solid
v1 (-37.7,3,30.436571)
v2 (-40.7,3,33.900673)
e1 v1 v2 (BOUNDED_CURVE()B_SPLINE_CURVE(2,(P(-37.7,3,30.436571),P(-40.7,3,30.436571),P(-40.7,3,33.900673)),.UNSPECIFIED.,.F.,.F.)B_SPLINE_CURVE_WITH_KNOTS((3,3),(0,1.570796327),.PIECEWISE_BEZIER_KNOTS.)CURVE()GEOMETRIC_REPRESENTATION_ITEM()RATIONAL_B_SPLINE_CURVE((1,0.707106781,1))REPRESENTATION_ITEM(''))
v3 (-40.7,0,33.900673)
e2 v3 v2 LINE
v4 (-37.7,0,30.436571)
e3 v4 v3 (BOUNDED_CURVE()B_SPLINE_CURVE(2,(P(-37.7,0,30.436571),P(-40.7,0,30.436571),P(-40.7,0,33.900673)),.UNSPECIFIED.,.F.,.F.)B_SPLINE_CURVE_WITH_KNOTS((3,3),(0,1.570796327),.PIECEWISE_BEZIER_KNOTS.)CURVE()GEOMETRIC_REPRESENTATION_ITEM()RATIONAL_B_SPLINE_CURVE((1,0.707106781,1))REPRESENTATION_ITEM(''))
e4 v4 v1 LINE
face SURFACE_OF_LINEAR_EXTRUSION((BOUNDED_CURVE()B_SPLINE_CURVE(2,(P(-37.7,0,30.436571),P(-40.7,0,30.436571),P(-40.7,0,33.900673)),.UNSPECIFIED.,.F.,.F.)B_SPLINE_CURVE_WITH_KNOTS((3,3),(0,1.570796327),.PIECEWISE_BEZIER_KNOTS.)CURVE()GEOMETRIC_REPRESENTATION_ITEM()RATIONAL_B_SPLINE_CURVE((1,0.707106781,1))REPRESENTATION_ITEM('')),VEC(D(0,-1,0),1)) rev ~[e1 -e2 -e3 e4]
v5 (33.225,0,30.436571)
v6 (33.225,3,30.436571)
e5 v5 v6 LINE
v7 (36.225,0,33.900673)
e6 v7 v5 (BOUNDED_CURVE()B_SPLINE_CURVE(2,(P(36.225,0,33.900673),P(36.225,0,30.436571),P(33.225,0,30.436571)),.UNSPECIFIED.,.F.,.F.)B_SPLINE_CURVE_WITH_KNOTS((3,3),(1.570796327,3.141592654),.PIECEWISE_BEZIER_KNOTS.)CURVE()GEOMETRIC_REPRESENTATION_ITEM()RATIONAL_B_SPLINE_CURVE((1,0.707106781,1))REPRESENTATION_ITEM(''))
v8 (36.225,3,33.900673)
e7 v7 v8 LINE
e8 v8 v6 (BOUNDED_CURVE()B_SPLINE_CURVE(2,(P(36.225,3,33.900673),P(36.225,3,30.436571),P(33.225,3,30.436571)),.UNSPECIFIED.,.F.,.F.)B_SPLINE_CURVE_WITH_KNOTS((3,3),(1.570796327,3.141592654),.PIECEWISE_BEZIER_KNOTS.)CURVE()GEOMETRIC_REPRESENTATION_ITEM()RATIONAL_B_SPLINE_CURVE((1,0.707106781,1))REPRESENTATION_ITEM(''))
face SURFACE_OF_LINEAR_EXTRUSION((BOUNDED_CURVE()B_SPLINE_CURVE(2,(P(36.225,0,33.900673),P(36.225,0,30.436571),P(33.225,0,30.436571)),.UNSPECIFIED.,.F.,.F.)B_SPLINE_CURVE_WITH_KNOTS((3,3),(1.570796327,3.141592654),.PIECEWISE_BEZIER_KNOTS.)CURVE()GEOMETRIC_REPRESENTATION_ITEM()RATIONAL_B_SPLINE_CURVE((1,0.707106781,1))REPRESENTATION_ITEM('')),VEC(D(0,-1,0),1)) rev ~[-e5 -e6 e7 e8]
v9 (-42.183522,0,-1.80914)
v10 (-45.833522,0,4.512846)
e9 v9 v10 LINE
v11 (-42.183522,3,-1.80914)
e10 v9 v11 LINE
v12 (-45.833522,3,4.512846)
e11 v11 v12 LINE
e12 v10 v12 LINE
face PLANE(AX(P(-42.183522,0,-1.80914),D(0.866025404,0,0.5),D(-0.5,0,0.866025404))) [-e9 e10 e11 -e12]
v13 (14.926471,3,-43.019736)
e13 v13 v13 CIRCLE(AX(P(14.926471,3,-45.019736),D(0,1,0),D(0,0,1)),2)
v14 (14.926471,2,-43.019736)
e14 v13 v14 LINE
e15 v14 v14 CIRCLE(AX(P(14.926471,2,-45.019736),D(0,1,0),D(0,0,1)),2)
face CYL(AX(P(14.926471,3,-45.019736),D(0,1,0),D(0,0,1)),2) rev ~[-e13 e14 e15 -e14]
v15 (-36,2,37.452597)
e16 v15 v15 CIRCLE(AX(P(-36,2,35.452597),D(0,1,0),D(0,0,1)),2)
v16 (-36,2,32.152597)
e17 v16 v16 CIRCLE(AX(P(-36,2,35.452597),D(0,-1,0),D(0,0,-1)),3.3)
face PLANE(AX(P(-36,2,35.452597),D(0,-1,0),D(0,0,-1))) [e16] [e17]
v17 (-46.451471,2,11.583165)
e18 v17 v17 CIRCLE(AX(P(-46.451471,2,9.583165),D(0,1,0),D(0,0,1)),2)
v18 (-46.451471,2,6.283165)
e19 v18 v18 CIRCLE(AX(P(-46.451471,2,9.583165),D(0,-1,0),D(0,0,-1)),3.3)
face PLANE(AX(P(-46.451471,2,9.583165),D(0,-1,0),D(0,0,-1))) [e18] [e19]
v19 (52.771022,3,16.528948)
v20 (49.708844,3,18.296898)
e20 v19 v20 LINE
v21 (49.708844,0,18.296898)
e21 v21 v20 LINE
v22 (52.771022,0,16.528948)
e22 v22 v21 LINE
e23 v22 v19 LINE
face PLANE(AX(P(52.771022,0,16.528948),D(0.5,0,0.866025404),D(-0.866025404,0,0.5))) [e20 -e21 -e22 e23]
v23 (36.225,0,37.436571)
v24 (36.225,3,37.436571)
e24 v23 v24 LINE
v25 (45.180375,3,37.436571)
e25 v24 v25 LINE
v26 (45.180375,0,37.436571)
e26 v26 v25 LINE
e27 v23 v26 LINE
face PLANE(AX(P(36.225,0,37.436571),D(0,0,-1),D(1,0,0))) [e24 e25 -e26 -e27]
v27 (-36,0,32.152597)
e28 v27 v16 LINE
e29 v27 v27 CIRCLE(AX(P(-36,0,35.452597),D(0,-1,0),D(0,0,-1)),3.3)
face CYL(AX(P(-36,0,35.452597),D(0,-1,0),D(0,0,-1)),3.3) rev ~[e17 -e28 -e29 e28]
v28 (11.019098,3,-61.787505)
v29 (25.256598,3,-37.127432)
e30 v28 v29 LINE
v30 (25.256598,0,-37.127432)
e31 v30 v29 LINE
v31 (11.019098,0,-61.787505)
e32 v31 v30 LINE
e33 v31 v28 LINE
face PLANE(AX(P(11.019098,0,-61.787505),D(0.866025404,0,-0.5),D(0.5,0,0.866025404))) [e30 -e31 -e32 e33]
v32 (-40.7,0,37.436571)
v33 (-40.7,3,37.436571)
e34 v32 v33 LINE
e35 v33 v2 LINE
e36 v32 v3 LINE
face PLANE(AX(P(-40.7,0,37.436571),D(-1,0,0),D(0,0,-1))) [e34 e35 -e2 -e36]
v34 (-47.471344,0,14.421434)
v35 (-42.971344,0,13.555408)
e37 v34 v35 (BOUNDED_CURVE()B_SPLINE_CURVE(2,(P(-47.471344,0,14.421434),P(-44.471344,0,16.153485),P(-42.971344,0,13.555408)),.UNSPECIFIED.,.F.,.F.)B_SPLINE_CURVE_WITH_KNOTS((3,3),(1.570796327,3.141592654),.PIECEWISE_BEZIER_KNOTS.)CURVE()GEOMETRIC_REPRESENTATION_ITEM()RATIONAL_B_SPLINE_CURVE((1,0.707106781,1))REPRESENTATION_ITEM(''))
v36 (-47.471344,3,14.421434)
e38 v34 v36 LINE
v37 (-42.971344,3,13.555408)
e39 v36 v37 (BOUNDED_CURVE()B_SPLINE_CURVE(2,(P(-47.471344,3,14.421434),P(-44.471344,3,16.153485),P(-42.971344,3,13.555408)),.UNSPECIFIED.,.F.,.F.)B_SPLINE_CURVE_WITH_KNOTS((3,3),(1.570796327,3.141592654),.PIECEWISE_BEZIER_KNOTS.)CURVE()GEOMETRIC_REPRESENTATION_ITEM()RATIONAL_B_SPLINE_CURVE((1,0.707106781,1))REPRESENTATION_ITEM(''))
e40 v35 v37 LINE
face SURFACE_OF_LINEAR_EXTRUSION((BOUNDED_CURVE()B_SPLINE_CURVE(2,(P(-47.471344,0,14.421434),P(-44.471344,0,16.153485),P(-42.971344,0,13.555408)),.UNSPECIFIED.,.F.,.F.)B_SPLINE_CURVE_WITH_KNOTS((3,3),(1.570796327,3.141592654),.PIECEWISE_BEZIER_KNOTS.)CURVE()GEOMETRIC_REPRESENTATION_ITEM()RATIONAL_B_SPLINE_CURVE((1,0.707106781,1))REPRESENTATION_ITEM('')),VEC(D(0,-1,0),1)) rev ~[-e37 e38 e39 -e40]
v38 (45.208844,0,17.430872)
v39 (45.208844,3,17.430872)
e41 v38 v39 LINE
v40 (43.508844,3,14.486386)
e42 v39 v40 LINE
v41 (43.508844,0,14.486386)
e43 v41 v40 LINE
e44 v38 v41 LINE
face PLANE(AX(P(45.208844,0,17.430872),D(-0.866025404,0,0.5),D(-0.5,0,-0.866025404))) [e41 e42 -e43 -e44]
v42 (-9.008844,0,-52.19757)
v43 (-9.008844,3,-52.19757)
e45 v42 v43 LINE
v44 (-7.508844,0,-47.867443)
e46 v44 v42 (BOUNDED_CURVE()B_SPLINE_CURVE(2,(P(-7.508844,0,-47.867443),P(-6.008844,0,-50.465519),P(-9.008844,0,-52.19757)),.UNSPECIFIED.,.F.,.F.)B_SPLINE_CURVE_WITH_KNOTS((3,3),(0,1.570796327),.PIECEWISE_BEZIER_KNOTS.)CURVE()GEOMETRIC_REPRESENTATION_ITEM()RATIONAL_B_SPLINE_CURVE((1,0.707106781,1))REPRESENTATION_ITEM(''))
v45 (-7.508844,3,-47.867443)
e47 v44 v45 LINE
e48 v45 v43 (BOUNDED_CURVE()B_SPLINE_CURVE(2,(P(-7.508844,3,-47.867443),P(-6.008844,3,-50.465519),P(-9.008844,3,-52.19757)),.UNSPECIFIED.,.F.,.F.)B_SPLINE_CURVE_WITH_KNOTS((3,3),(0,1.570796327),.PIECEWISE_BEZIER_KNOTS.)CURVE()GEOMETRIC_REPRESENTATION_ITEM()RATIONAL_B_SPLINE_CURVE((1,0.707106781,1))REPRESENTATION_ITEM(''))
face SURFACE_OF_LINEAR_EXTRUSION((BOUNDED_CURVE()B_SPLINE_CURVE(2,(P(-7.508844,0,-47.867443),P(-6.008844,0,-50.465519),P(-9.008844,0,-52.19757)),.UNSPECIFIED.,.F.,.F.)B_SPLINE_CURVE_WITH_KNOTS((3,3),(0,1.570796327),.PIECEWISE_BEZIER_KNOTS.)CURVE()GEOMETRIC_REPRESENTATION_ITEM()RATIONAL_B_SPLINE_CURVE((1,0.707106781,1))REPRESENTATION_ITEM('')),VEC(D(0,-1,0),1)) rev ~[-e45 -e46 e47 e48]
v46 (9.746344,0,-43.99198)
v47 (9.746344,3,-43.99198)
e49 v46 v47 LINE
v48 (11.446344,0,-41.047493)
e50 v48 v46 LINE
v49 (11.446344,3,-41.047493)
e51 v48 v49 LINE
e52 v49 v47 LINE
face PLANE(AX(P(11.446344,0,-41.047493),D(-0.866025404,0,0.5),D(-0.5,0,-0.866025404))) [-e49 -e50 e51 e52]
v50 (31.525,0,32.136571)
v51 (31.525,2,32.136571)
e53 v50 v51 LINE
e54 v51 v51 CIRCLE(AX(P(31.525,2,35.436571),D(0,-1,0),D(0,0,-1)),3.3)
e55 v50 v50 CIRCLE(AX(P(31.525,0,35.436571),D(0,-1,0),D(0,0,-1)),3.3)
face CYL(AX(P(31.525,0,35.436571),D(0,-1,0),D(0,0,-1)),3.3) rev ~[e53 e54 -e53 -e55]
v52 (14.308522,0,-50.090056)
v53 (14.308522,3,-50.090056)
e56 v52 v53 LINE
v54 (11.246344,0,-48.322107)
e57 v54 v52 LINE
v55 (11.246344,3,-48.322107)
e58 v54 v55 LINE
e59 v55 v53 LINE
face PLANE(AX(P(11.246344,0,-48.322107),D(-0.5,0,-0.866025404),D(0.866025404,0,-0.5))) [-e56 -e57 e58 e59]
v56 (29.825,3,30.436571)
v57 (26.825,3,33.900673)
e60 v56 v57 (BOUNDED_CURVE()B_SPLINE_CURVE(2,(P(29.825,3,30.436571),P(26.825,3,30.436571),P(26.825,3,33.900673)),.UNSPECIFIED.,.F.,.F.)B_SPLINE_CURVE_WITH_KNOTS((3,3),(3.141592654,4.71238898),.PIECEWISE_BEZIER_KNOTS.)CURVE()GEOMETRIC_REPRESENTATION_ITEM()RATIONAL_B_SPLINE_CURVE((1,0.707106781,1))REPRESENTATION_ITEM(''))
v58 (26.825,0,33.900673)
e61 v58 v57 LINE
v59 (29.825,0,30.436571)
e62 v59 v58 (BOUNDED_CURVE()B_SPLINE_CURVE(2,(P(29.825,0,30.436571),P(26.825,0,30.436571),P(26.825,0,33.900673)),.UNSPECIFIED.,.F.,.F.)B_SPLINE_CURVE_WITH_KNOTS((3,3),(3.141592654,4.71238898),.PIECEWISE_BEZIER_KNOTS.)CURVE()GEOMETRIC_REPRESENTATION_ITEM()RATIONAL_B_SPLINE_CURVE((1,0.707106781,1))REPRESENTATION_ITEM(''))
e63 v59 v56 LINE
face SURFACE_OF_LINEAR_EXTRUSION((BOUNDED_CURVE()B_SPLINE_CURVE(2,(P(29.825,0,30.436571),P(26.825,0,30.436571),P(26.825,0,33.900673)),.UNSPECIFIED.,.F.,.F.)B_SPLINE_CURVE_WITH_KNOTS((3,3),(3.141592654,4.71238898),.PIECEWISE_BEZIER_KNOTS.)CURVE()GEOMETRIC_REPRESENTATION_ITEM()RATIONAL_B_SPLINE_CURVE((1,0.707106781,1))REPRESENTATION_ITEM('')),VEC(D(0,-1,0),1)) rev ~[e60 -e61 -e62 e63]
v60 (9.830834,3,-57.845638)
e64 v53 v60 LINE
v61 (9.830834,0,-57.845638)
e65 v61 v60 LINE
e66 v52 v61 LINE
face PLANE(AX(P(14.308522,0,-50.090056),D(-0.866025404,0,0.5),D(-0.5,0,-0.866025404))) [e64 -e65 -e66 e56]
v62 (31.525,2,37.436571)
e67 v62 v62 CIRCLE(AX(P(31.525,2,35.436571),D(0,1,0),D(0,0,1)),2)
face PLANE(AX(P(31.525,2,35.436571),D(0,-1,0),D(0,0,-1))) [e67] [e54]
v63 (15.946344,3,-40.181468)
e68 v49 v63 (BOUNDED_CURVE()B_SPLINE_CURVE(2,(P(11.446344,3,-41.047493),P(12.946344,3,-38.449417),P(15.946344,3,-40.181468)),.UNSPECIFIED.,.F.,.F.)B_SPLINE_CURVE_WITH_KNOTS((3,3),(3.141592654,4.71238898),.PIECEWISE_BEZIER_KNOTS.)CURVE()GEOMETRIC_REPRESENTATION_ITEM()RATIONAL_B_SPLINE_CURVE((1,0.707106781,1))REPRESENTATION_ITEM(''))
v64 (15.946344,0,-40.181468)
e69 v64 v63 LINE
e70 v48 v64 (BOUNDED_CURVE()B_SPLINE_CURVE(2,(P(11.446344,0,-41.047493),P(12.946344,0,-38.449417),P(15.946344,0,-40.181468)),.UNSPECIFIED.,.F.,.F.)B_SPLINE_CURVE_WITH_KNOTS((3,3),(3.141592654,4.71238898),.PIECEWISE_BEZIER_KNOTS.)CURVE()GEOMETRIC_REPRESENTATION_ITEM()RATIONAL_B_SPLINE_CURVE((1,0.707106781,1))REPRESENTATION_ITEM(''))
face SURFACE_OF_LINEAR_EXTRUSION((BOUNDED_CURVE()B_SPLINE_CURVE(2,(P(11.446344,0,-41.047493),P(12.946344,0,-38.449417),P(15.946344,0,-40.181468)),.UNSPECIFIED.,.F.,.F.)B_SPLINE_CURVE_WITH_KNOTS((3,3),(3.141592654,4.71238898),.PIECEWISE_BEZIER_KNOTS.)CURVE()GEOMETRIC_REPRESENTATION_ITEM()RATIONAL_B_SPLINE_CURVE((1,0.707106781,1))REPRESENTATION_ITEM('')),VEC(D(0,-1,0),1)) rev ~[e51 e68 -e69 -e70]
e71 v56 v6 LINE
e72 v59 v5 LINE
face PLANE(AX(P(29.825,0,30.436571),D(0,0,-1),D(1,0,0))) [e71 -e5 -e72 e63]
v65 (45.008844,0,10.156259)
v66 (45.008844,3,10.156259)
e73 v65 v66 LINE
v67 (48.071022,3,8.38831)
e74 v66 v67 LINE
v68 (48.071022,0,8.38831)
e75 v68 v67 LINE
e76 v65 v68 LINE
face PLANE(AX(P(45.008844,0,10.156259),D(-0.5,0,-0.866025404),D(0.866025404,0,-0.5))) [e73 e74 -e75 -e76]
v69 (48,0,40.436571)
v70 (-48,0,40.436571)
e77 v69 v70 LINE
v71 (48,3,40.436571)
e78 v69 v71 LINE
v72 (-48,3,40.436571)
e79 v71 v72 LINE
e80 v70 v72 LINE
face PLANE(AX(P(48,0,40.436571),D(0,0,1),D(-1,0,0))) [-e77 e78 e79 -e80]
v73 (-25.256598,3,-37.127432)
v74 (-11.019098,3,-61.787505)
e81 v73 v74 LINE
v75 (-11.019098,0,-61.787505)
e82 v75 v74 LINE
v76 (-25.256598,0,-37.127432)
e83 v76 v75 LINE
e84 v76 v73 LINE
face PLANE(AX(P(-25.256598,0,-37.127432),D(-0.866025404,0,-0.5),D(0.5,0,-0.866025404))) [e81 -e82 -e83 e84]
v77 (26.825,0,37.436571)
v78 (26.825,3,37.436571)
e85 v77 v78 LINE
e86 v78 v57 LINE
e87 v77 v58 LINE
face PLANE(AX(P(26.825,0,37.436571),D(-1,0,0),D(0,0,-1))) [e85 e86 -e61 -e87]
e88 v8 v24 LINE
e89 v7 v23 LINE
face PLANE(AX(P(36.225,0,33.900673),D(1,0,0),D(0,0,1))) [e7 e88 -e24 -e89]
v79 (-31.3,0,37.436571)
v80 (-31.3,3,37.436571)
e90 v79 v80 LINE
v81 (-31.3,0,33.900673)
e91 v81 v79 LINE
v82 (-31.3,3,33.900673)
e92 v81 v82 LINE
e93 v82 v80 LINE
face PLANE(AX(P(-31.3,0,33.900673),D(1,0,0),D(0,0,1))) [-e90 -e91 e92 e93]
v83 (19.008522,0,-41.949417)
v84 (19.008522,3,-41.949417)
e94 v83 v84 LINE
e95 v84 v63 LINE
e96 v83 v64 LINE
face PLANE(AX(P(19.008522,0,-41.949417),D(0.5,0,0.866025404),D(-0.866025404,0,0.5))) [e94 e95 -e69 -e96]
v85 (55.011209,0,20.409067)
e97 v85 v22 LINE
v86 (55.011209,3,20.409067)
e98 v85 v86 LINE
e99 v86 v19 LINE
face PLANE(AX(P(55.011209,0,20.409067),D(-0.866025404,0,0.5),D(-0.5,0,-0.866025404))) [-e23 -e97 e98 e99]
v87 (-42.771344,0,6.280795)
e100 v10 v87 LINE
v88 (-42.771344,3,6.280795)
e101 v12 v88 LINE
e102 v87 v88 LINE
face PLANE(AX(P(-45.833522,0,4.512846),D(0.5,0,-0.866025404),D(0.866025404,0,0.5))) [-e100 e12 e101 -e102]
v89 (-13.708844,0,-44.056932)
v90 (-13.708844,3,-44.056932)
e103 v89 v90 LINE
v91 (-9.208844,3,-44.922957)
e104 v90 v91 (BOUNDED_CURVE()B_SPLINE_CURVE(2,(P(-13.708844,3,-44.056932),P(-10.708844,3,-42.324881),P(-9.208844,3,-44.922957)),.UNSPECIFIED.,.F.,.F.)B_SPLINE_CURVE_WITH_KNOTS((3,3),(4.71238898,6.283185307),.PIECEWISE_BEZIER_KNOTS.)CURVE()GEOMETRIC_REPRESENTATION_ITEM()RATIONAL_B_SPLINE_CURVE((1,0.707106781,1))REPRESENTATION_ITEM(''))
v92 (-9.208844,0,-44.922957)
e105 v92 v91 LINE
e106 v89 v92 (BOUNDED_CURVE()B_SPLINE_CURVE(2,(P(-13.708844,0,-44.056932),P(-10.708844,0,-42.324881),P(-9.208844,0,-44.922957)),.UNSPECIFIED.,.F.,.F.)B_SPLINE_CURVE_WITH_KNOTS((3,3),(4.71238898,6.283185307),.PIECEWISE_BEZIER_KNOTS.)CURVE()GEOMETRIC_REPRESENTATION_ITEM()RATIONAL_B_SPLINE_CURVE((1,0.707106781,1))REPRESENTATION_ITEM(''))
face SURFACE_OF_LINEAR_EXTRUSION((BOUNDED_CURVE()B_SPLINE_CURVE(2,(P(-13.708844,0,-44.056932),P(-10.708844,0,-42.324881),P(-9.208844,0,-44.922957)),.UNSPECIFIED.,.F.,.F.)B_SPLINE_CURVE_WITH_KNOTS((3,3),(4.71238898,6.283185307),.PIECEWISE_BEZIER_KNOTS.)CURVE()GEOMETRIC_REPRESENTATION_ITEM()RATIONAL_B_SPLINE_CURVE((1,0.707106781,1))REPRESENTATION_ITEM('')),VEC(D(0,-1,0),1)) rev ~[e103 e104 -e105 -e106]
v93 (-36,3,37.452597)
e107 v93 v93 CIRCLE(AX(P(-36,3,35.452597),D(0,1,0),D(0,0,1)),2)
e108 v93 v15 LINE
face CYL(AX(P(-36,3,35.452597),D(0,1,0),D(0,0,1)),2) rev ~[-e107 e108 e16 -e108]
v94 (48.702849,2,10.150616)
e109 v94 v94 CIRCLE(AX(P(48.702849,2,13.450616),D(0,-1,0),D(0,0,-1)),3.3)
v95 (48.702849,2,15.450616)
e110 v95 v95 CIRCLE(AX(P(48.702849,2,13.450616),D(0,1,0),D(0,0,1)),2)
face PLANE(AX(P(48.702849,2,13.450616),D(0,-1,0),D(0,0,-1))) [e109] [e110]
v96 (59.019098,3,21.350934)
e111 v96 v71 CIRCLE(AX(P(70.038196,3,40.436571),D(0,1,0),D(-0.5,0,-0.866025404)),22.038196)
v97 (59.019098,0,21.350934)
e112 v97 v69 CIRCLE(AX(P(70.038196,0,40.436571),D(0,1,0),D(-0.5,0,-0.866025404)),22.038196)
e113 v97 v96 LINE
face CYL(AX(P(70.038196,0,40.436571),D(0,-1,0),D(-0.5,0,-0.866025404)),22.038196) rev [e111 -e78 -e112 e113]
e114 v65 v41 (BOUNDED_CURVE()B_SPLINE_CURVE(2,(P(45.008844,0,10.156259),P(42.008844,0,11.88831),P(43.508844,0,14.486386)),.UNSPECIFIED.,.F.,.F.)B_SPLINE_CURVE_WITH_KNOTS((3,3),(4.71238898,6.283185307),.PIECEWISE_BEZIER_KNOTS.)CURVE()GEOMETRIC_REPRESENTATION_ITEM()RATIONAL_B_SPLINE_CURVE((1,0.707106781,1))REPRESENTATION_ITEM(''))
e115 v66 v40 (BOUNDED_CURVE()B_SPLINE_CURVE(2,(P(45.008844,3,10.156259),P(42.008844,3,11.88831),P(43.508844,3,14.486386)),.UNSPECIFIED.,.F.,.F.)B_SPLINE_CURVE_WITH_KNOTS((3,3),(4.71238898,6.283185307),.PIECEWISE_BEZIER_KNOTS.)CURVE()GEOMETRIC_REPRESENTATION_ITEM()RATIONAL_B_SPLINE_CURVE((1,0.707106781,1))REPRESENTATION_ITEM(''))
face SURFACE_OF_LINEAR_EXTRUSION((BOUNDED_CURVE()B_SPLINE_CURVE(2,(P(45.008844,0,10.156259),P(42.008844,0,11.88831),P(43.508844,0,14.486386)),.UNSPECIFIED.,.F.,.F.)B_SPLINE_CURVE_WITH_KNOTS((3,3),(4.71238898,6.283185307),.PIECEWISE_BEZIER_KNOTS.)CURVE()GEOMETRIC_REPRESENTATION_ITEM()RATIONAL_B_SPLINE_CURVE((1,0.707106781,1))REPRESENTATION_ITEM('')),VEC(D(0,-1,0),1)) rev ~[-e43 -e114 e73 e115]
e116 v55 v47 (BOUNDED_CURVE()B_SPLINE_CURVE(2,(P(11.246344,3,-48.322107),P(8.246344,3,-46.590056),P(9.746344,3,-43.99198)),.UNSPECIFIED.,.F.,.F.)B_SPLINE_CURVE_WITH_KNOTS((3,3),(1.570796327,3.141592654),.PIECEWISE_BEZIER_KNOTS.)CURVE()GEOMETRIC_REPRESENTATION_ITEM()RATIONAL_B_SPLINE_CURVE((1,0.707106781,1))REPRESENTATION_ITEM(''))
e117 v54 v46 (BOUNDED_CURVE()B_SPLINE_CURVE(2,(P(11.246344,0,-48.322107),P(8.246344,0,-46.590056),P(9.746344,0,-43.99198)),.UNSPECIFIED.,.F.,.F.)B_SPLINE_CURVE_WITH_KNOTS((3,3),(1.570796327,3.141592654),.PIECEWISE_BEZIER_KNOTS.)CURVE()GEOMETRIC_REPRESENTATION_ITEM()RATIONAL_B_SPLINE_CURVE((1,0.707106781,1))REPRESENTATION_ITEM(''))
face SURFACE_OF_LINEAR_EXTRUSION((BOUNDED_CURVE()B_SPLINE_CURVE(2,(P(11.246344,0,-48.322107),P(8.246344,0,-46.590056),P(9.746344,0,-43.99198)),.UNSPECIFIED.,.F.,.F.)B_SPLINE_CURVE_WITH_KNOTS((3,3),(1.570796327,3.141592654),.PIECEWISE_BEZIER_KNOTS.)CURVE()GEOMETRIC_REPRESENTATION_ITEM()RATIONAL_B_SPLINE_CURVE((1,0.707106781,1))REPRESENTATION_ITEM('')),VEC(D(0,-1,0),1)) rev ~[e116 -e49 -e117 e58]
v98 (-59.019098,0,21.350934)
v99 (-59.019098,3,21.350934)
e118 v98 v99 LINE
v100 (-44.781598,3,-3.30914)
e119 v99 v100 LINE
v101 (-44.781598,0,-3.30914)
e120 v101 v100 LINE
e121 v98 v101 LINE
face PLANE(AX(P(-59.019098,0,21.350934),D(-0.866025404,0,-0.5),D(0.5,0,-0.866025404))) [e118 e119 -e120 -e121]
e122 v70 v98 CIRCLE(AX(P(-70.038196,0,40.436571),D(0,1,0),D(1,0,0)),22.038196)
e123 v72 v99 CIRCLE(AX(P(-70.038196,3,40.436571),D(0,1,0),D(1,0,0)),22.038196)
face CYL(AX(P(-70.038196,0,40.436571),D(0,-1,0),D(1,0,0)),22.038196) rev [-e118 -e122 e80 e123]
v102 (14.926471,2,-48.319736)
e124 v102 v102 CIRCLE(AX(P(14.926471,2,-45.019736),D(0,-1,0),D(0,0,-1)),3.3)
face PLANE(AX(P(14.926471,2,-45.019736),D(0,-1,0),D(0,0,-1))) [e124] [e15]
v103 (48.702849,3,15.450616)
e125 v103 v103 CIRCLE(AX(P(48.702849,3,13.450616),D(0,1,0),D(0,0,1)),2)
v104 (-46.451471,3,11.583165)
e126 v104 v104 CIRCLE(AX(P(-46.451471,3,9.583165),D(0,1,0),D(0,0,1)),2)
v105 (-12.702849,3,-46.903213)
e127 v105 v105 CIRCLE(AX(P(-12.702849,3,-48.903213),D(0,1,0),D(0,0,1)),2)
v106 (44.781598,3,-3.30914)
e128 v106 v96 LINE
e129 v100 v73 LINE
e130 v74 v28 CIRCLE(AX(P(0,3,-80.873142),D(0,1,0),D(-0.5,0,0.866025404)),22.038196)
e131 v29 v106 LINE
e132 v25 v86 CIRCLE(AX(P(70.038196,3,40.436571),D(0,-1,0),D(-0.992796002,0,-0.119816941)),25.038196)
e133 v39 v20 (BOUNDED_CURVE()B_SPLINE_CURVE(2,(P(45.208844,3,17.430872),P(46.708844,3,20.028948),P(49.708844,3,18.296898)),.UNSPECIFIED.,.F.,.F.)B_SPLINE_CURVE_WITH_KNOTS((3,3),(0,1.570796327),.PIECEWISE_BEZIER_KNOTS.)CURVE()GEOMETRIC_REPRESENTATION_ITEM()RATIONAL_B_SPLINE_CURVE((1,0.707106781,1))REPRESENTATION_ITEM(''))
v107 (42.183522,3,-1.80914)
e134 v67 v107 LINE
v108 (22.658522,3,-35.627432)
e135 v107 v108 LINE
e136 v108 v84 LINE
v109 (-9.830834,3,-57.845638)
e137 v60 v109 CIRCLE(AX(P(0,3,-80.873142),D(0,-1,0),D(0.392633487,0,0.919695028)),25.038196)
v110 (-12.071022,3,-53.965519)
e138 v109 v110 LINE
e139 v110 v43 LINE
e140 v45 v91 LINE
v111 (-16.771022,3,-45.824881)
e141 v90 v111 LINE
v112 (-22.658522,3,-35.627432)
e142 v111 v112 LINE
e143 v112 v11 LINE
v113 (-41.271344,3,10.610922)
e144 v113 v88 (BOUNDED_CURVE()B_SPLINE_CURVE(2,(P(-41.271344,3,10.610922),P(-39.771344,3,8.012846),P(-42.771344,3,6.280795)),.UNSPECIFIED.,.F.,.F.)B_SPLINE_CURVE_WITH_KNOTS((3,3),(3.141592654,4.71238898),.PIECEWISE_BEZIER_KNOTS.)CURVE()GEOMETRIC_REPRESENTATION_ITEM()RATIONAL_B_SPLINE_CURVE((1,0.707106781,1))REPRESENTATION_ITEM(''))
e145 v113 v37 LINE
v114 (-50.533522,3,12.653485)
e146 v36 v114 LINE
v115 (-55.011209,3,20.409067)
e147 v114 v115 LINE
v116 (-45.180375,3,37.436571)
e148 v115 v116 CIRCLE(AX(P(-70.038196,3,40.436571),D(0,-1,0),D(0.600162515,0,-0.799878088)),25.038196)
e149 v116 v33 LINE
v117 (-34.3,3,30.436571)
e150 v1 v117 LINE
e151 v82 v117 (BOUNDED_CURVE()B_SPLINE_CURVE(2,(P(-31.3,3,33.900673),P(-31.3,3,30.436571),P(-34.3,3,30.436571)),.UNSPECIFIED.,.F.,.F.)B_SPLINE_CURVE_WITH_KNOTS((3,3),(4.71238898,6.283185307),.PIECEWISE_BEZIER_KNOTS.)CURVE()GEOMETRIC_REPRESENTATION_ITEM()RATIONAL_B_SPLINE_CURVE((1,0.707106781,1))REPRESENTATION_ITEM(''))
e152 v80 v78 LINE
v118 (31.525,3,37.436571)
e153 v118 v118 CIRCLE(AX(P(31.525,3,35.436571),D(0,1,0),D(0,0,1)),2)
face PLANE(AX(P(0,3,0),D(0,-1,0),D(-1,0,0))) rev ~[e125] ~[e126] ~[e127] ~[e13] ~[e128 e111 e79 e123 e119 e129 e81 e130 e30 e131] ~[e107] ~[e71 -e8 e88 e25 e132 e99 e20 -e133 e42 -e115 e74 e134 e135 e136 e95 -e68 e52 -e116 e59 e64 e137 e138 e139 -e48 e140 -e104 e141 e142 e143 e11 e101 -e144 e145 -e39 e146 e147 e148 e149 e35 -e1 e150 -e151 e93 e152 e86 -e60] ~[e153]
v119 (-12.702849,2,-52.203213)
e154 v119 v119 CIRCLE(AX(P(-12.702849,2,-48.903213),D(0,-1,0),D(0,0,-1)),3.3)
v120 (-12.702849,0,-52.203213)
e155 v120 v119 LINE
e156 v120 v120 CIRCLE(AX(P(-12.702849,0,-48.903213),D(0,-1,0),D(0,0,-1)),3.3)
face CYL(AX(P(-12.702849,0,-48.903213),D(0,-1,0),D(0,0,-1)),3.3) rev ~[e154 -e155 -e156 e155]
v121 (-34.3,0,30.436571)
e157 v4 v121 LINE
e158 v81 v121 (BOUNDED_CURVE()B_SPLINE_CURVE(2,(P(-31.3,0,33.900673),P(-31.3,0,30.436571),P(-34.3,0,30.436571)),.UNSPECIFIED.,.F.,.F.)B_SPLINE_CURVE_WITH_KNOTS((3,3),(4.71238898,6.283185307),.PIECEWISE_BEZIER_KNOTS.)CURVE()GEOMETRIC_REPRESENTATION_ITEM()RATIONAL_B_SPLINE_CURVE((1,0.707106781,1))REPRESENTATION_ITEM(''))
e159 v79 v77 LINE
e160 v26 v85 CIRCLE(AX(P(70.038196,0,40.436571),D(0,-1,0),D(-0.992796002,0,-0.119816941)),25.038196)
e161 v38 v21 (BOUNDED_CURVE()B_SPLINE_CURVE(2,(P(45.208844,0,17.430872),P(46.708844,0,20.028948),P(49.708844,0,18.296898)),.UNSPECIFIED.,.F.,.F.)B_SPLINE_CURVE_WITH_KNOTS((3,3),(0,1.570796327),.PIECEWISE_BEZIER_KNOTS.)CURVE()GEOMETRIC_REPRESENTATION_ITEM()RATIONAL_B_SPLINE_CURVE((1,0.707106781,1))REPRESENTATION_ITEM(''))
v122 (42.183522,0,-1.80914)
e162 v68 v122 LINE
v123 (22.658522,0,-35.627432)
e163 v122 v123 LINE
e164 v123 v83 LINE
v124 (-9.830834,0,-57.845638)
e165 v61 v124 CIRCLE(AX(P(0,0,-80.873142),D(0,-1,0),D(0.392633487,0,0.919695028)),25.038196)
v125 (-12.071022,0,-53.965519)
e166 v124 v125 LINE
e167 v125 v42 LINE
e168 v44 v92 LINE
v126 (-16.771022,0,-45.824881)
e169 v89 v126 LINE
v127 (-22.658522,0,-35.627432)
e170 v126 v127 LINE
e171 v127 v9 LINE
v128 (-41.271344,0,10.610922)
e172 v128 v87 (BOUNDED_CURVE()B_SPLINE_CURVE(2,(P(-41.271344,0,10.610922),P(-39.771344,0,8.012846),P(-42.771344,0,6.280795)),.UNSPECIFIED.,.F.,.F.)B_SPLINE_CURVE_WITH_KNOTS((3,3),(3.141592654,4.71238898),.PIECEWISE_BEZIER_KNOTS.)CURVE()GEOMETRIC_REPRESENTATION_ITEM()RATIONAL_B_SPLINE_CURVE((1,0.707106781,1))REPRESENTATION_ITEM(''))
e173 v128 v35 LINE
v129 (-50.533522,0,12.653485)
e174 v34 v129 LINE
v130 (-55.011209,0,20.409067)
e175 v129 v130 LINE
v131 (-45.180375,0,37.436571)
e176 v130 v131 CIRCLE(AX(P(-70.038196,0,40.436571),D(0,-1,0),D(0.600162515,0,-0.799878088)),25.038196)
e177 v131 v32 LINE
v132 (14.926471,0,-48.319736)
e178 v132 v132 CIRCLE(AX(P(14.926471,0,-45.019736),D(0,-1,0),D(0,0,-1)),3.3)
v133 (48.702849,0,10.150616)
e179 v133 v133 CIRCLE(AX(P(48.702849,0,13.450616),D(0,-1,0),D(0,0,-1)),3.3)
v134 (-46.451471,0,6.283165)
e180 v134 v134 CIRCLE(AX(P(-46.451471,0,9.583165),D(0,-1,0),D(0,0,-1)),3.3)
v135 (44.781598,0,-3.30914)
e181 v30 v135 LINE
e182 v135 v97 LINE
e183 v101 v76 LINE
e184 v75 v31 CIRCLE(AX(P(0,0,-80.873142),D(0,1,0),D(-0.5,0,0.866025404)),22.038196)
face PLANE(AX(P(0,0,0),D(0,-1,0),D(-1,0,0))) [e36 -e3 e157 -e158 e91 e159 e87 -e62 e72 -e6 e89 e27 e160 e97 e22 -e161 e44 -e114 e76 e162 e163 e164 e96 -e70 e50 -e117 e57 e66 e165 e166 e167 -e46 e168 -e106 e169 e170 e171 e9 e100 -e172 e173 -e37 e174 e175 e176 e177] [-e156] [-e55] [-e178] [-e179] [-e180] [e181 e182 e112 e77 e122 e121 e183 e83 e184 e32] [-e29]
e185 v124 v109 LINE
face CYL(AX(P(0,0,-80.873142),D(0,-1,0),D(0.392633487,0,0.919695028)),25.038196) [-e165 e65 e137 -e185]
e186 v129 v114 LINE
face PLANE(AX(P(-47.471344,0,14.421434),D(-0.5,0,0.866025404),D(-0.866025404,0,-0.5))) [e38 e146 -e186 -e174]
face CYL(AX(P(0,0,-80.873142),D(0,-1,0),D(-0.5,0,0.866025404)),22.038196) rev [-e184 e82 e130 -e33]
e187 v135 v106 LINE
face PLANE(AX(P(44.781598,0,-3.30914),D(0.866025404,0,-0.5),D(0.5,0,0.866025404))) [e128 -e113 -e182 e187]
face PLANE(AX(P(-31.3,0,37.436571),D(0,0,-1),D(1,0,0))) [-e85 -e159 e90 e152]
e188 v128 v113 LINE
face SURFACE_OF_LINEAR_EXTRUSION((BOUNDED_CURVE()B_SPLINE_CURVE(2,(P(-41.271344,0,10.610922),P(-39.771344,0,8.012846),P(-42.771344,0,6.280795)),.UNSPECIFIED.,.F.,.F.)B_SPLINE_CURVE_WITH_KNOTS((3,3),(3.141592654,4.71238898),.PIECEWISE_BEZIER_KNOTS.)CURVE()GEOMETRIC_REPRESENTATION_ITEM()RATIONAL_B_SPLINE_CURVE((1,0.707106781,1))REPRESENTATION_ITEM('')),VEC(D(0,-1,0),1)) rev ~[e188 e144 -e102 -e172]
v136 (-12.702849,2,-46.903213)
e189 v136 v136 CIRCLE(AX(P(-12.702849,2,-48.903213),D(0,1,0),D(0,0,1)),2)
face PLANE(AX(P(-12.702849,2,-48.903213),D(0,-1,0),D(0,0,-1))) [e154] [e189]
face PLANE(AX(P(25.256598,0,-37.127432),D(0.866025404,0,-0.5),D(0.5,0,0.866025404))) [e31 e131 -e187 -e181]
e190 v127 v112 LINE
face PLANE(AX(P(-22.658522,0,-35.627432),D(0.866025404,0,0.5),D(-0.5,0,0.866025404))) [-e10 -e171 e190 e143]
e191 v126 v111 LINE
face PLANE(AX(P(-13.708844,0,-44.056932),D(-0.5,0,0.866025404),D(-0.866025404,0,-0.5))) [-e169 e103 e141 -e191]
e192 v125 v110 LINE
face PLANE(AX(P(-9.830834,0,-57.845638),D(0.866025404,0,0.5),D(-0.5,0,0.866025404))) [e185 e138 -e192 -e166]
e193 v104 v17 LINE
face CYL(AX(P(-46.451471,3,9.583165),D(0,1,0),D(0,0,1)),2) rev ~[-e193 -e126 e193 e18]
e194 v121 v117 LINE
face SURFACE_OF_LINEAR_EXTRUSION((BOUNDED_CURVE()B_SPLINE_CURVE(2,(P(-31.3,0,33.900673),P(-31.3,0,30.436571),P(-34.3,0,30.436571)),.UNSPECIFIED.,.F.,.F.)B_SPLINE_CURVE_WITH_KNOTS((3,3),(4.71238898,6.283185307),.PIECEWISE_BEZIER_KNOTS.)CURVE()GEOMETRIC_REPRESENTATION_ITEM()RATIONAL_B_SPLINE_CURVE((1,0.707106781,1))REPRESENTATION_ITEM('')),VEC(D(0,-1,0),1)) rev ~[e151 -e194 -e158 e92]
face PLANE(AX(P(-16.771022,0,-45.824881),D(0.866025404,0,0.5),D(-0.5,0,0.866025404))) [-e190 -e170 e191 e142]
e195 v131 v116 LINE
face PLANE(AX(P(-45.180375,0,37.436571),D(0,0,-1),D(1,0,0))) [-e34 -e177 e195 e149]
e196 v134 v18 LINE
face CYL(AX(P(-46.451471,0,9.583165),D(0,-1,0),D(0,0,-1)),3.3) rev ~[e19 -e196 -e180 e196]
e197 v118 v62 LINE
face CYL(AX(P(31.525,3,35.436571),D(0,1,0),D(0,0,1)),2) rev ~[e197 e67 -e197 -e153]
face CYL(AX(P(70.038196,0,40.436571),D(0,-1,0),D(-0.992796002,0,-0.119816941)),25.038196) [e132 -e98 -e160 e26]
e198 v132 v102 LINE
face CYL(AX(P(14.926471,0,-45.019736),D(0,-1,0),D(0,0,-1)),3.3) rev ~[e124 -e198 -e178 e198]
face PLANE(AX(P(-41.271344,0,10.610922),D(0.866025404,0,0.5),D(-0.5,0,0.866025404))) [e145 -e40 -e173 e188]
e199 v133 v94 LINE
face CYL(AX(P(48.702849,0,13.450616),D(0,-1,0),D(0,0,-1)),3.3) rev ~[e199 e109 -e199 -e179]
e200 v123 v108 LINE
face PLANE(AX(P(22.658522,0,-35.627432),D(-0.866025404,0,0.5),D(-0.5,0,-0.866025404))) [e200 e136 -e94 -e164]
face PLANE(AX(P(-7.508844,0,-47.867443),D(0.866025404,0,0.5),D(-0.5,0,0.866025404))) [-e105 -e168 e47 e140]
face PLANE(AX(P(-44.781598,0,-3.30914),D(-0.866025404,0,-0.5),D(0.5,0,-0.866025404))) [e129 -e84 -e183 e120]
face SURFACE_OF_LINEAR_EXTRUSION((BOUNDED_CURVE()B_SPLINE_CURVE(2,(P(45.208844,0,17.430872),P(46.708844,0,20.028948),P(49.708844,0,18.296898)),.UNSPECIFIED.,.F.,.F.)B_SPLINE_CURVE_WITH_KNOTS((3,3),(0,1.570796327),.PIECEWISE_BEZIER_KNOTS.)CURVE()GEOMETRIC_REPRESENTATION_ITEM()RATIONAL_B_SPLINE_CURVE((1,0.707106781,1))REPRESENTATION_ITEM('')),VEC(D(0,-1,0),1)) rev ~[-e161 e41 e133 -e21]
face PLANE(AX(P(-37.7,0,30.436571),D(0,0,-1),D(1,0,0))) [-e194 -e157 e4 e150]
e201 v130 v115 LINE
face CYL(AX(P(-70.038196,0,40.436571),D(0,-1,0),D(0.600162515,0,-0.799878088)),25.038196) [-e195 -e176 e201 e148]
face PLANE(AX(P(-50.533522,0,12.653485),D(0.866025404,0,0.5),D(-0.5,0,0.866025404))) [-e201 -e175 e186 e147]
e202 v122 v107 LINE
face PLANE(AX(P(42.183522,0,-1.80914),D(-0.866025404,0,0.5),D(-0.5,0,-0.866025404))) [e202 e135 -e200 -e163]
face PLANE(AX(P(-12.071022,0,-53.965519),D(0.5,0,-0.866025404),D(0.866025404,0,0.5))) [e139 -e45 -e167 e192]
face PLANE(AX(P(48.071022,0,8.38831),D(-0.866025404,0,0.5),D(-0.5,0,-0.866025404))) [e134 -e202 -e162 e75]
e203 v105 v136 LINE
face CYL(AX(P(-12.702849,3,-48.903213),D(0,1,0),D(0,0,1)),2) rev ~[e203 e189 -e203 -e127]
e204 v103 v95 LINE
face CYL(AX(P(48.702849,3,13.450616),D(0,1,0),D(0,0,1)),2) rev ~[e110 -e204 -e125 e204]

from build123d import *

# Parameters (mm, degrees)
BOSS_EXTRUDE2_DEPTH = 3
SKETCH3_R           = 2
CUT_EXTRUDE1_DEPTH  = 86.498243834
SKETCH5_R           = 3.3
CUT_EXTRUDE3_DEPTH  = 2


with BuildPart() as part:
    # Sketch2 → Boss-Extrude2 (new body)
    with BuildSketch(Plane(origin=(0, 0, 0), x_dir=(1, 0, 0), z_dir=(0, 1, 0))):
        with BuildLine():
            Line((-19.525, -40.436571109), (-48, -40.436571109))
            ThreePointArc((-48, -40.436571109), (-50.952558363, -29.417473287), (-59.019097822, -21.350933827))
            Line((-59.019097822, -21.350933827), (-44.781597822, 3.309139546))
            Line((-44.781597822, 3.309139546), (-25.256597822, 37.127431563))
            Line((-25.256597822, 37.127431563), (-11.019097822, 61.787504936))
            ThreePointArc((-11.019097822, 61.787504936), (0, 58.834946573), (11.019097822, 61.787504936))
            Line((11.019097822, 61.787504936), (25.256597822, 37.127431563))
            Line((25.256597822, 37.127431563), (44.781597822, 3.309139546))
            Line((44.781597822, 3.309139546), (59.019097822, -21.350933827))
            ThreePointArc((59.019097822, -21.350933827), (50.952558363, -29.417473287), (48, -40.436571109))
            Line((48, -40.436571109), (19.525, -40.436571109))
            Line((19.525, -40.436571109), (-19.525, -40.436571109))
        make_face()
        with BuildLine():
            Line((-40.7, -37.436571109), (-40.7, -33.900672724))
            add(Edge.make_bspline(
                [(-37.7, -30.436571109), (-40.7, -30.436571109), (-40.7, -33.900672724)],
                knots=[0, 0, 0, 1.570796327, 1.570796327, 1.570796327], degree=2, weights=[1, 0.707106781, 1]))
            Line((-37.7, -30.436571109), (-34.3, -30.436571109))
            add(Edge.make_bspline(
                [(-31.3, -33.900672724), (-31.3, -30.436571109), (-34.3, -30.436571109)],
                knots=[4.71238898, 4.71238898, 4.71238898, 6.283185307, 6.283185307, 6.283185307], degree=2, weights=[1, 0.707106781, 1]))
            Line((-31.3, -33.900672724), (-31.3, -37.436571109))
            Line((-31.3, -37.436571109), (-19.525, -37.436571109))
            Line((-19.525, -37.436571109), (19.525, -37.436571109))
            Line((19.525, -37.436571109), (26.825, -37.436571109))
            Line((26.825, -37.436571109), (26.825, -33.900672724))
            add(Edge.make_bspline(
                [(29.825, -30.436571109), (26.825, -30.436571109), (26.825, -33.900672724)],
                knots=[3.141592654, 3.141592654, 3.141592654, 4.71238898, 4.71238898, 4.71238898], degree=2, weights=[1, 0.707106781, 1]))
            Line((29.825, -30.436571109), (33.225, -30.436571109))
            add(Edge.make_bspline(
                [(36.225, -33.900672724), (36.225, -30.436571109), (33.225, -30.436571109)],
                knots=[1.570796327, 1.570796327, 1.570796327, 3.141592654, 3.141592654, 3.141592654], degree=2, weights=[1, 0.707106781, 1]))
            Line((36.225, -33.900672724), (36.225, -37.436571109))
            Line((36.225, -37.436571109), (45.180375122, -37.436571109))
            ThreePointArc((45.180375122, -37.436571109), (48.354482151, -27.917473287), (55.011209172, -20.409067054))
            Line((55.011209172, -20.409067054), (52.771021611, -16.528948379))
            Line((52.771021611, -16.528948379), (49.708843785, -18.296897572))
            add(Edge.make_bspline(
                [(45.208843785, -17.430872168), (46.708843785, -20.028948379), (49.708843785, -18.296897572)],
                knots=[0, 0, 0, 1.570796327, 1.570796327, 1.570796327], degree=2, weights=[1, 0.707106781, 1]))
            Line((45.208843785, -17.430872168), (43.508843785, -14.486385795))
            add(Edge.make_bspline(
                [(45.008843785, -10.156258776), (42.008843785, -11.888309584), (43.508843785, -14.486385795)],
                knots=[4.71238898, 4.71238898, 4.71238898, 6.283185307, 6.283185307, 6.283185307], degree=2, weights=[1, 0.707106781, 1]))
            Line((45.008843785, -10.156258776), (48.071021611, -8.388309584))
            Line((48.071021611, -8.388309584), (42.183521611, 1.809139546))
            Line((42.183521611, 1.809139546), (22.658521611, 35.627431563))
            Line((22.658521611, 35.627431563), (19.008521611, 41.949417011))
            Line((19.008521611, 41.949417011), (15.946343785, 40.181467819))
            add(Edge.make_bspline(
                [(11.446343785, 41.047493222), (12.946343785, 38.449417011), (15.946343785, 40.181467819)],
                knots=[3.141592654, 3.141592654, 3.141592654, 4.71238898, 4.71238898, 4.71238898], degree=2, weights=[1, 0.707106781, 1]))
            Line((11.446343785, 41.047493222), (9.746343785, 43.991979595))
            add(Edge.make_bspline(
                [(11.246343785, 48.322106614), (8.246343785, 46.590055807), (9.746343785, 43.991979595)],
                knots=[1.570796327, 1.570796327, 1.570796327, 3.141592654, 3.141592654, 3.141592654], degree=2, weights=[1, 0.707106781, 1]))
            Line((11.246343785, 48.322106614), (14.308521611, 50.090055807))
            Line((14.308521611, 50.090055807), (9.83083405, 57.845638163))
            ThreePointArc((9.83083405, 57.845638163), (0, 55.834946573), (-9.83083405, 57.845638163))
            Line((-9.83083405, 57.845638163), (-12.071021611, 53.965519489))
            Line((-12.071021611, 53.965519489), (-9.008843785, 52.197570296))
            add(Edge.make_bspline(
                [(-7.508843785, 47.867443277), (-6.008843785, 50.465519489), (-9.008843785, 52.197570296)],
                knots=[0, 0, 0, 1.570796327, 1.570796327, 1.570796327], degree=2, weights=[1, 0.707106781, 1]))
            Line((-7.508843785, 47.867443277), (-9.208843785, 44.922956904))
            add(Edge.make_bspline(
                [(-13.708843785, 44.056931501), (-10.708843785, 42.324880693), (-9.208843785, 44.922956904)],
                knots=[4.71238898, 4.71238898, 4.71238898, 6.283185307, 6.283185307, 6.283185307], degree=2, weights=[1, 0.707106781, 1]))
            Line((-13.708843785, 44.056931501), (-16.771021611, 45.824880693))
            Line((-16.771021611, 45.824880693), (-22.658521611, 35.627431563))
            Line((-22.658521611, 35.627431563), (-42.183521611, 1.809139546))
            Line((-42.183521611, 1.809139546), (-45.833521611, -4.512845902))
            Line((-45.833521611, -4.512845902), (-42.771343785, -6.280795094))
            add(Edge.make_bspline(
                [(-41.271343785, -10.610922113), (-39.771343785, -8.012845902), (-42.771343785, -6.280795094)],
                knots=[3.141592654, 3.141592654, 3.141592654, 4.71238898, 4.71238898, 4.71238898], degree=2, weights=[1, 0.707106781, 1]))
            Line((-41.271343785, -10.610922113), (-42.971343785, -13.555408486))
            add(Edge.make_bspline(
                [(-47.471343785, -14.42143389), (-44.471343785, -16.153484698), (-42.971343785, -13.555408486)],
                knots=[1.570796327, 1.570796327, 1.570796327, 3.141592654, 3.141592654, 3.141592654], degree=2, weights=[1, 0.707106781, 1]))
            Line((-47.471343785, -14.42143389), (-50.533521611, -12.653484698))
            Line((-50.533521611, -12.653484698), (-55.011209172, -20.409067054))
            ThreePointArc((-55.011209172, -20.409067054), (-48.354482151, -27.917473287), (-45.180375122, -37.436571109))
            Line((-45.180375122, -37.436571109), (-40.7, -37.436571109))
        make_face(mode=Mode.SUBTRACT)
    extrude(amount=BOSS_EXTRUDE2_DEPTH)

    # Sketch3 → Cut-Extrude1 (cut, through all)
    with BuildSketch(Plane(origin=(0, 3, 0), x_dir=(1, 0, 0), z_dir=(0, 1, 0))):
        with Locations(Location((31.525, -35.436571109, 0), (0, 0, 270))):
            Circle(SKETCH3_R)
        with Locations(Location((-36, -35.452596513, 0), (0, 0, 270))):
            Circle(SKETCH3_R)
        with Locations(Location((-46.451470804, -9.5831653, 0), (0, 0, 270))):
            Circle(SKETCH3_R)
        with Locations(Location((48.70284921, -13.45061628, 0), (0, 0, 270))):
            Circle(SKETCH3_R)
        with Locations(Location((14.926470804, 45.019736409, 0), (0, 0, 270))):
            Circle(SKETCH3_R)
        with Locations(Location((-12.70284921, 48.903212793, 0), (0, 0, 270))):
            Circle(SKETCH3_R)
    extrude(amount=-CUT_EXTRUDE1_DEPTH, mode=Mode.SUBTRACT)

    # Sketch5 → Cut-Extrude3 (cut)
    with BuildSketch(Plane.XZ):
        with Locations(Location((48.70284921, 13.45061628, 0), (0, 0, 270))):
            Circle(SKETCH5_R)
        with Locations(Location((31.525, 35.436571109, 0), (0, 0, 270))):
            Circle(SKETCH5_R)
        with Locations(Location((-12.70284921, -48.903212793, 0), (0, 0, 270))):
            Circle(SKETCH5_R)
        with Locations(Location((14.926470804, -45.019736409, 0), (0, 0, 270))):
            Circle(SKETCH5_R)
        with Locations(Location((-36, 35.452596513, 0), (0, 0, 270))):
            Circle(SKETCH5_R)
        with Locations(Location((-46.451470804, 9.5831653, 0), (0, 0, 270))):
            Circle(SKETCH5_R)
    extrude(amount=-CUT_EXTRUDE3_DEPTH, mode=Mode.SUBTRACT)


solid = part.part
